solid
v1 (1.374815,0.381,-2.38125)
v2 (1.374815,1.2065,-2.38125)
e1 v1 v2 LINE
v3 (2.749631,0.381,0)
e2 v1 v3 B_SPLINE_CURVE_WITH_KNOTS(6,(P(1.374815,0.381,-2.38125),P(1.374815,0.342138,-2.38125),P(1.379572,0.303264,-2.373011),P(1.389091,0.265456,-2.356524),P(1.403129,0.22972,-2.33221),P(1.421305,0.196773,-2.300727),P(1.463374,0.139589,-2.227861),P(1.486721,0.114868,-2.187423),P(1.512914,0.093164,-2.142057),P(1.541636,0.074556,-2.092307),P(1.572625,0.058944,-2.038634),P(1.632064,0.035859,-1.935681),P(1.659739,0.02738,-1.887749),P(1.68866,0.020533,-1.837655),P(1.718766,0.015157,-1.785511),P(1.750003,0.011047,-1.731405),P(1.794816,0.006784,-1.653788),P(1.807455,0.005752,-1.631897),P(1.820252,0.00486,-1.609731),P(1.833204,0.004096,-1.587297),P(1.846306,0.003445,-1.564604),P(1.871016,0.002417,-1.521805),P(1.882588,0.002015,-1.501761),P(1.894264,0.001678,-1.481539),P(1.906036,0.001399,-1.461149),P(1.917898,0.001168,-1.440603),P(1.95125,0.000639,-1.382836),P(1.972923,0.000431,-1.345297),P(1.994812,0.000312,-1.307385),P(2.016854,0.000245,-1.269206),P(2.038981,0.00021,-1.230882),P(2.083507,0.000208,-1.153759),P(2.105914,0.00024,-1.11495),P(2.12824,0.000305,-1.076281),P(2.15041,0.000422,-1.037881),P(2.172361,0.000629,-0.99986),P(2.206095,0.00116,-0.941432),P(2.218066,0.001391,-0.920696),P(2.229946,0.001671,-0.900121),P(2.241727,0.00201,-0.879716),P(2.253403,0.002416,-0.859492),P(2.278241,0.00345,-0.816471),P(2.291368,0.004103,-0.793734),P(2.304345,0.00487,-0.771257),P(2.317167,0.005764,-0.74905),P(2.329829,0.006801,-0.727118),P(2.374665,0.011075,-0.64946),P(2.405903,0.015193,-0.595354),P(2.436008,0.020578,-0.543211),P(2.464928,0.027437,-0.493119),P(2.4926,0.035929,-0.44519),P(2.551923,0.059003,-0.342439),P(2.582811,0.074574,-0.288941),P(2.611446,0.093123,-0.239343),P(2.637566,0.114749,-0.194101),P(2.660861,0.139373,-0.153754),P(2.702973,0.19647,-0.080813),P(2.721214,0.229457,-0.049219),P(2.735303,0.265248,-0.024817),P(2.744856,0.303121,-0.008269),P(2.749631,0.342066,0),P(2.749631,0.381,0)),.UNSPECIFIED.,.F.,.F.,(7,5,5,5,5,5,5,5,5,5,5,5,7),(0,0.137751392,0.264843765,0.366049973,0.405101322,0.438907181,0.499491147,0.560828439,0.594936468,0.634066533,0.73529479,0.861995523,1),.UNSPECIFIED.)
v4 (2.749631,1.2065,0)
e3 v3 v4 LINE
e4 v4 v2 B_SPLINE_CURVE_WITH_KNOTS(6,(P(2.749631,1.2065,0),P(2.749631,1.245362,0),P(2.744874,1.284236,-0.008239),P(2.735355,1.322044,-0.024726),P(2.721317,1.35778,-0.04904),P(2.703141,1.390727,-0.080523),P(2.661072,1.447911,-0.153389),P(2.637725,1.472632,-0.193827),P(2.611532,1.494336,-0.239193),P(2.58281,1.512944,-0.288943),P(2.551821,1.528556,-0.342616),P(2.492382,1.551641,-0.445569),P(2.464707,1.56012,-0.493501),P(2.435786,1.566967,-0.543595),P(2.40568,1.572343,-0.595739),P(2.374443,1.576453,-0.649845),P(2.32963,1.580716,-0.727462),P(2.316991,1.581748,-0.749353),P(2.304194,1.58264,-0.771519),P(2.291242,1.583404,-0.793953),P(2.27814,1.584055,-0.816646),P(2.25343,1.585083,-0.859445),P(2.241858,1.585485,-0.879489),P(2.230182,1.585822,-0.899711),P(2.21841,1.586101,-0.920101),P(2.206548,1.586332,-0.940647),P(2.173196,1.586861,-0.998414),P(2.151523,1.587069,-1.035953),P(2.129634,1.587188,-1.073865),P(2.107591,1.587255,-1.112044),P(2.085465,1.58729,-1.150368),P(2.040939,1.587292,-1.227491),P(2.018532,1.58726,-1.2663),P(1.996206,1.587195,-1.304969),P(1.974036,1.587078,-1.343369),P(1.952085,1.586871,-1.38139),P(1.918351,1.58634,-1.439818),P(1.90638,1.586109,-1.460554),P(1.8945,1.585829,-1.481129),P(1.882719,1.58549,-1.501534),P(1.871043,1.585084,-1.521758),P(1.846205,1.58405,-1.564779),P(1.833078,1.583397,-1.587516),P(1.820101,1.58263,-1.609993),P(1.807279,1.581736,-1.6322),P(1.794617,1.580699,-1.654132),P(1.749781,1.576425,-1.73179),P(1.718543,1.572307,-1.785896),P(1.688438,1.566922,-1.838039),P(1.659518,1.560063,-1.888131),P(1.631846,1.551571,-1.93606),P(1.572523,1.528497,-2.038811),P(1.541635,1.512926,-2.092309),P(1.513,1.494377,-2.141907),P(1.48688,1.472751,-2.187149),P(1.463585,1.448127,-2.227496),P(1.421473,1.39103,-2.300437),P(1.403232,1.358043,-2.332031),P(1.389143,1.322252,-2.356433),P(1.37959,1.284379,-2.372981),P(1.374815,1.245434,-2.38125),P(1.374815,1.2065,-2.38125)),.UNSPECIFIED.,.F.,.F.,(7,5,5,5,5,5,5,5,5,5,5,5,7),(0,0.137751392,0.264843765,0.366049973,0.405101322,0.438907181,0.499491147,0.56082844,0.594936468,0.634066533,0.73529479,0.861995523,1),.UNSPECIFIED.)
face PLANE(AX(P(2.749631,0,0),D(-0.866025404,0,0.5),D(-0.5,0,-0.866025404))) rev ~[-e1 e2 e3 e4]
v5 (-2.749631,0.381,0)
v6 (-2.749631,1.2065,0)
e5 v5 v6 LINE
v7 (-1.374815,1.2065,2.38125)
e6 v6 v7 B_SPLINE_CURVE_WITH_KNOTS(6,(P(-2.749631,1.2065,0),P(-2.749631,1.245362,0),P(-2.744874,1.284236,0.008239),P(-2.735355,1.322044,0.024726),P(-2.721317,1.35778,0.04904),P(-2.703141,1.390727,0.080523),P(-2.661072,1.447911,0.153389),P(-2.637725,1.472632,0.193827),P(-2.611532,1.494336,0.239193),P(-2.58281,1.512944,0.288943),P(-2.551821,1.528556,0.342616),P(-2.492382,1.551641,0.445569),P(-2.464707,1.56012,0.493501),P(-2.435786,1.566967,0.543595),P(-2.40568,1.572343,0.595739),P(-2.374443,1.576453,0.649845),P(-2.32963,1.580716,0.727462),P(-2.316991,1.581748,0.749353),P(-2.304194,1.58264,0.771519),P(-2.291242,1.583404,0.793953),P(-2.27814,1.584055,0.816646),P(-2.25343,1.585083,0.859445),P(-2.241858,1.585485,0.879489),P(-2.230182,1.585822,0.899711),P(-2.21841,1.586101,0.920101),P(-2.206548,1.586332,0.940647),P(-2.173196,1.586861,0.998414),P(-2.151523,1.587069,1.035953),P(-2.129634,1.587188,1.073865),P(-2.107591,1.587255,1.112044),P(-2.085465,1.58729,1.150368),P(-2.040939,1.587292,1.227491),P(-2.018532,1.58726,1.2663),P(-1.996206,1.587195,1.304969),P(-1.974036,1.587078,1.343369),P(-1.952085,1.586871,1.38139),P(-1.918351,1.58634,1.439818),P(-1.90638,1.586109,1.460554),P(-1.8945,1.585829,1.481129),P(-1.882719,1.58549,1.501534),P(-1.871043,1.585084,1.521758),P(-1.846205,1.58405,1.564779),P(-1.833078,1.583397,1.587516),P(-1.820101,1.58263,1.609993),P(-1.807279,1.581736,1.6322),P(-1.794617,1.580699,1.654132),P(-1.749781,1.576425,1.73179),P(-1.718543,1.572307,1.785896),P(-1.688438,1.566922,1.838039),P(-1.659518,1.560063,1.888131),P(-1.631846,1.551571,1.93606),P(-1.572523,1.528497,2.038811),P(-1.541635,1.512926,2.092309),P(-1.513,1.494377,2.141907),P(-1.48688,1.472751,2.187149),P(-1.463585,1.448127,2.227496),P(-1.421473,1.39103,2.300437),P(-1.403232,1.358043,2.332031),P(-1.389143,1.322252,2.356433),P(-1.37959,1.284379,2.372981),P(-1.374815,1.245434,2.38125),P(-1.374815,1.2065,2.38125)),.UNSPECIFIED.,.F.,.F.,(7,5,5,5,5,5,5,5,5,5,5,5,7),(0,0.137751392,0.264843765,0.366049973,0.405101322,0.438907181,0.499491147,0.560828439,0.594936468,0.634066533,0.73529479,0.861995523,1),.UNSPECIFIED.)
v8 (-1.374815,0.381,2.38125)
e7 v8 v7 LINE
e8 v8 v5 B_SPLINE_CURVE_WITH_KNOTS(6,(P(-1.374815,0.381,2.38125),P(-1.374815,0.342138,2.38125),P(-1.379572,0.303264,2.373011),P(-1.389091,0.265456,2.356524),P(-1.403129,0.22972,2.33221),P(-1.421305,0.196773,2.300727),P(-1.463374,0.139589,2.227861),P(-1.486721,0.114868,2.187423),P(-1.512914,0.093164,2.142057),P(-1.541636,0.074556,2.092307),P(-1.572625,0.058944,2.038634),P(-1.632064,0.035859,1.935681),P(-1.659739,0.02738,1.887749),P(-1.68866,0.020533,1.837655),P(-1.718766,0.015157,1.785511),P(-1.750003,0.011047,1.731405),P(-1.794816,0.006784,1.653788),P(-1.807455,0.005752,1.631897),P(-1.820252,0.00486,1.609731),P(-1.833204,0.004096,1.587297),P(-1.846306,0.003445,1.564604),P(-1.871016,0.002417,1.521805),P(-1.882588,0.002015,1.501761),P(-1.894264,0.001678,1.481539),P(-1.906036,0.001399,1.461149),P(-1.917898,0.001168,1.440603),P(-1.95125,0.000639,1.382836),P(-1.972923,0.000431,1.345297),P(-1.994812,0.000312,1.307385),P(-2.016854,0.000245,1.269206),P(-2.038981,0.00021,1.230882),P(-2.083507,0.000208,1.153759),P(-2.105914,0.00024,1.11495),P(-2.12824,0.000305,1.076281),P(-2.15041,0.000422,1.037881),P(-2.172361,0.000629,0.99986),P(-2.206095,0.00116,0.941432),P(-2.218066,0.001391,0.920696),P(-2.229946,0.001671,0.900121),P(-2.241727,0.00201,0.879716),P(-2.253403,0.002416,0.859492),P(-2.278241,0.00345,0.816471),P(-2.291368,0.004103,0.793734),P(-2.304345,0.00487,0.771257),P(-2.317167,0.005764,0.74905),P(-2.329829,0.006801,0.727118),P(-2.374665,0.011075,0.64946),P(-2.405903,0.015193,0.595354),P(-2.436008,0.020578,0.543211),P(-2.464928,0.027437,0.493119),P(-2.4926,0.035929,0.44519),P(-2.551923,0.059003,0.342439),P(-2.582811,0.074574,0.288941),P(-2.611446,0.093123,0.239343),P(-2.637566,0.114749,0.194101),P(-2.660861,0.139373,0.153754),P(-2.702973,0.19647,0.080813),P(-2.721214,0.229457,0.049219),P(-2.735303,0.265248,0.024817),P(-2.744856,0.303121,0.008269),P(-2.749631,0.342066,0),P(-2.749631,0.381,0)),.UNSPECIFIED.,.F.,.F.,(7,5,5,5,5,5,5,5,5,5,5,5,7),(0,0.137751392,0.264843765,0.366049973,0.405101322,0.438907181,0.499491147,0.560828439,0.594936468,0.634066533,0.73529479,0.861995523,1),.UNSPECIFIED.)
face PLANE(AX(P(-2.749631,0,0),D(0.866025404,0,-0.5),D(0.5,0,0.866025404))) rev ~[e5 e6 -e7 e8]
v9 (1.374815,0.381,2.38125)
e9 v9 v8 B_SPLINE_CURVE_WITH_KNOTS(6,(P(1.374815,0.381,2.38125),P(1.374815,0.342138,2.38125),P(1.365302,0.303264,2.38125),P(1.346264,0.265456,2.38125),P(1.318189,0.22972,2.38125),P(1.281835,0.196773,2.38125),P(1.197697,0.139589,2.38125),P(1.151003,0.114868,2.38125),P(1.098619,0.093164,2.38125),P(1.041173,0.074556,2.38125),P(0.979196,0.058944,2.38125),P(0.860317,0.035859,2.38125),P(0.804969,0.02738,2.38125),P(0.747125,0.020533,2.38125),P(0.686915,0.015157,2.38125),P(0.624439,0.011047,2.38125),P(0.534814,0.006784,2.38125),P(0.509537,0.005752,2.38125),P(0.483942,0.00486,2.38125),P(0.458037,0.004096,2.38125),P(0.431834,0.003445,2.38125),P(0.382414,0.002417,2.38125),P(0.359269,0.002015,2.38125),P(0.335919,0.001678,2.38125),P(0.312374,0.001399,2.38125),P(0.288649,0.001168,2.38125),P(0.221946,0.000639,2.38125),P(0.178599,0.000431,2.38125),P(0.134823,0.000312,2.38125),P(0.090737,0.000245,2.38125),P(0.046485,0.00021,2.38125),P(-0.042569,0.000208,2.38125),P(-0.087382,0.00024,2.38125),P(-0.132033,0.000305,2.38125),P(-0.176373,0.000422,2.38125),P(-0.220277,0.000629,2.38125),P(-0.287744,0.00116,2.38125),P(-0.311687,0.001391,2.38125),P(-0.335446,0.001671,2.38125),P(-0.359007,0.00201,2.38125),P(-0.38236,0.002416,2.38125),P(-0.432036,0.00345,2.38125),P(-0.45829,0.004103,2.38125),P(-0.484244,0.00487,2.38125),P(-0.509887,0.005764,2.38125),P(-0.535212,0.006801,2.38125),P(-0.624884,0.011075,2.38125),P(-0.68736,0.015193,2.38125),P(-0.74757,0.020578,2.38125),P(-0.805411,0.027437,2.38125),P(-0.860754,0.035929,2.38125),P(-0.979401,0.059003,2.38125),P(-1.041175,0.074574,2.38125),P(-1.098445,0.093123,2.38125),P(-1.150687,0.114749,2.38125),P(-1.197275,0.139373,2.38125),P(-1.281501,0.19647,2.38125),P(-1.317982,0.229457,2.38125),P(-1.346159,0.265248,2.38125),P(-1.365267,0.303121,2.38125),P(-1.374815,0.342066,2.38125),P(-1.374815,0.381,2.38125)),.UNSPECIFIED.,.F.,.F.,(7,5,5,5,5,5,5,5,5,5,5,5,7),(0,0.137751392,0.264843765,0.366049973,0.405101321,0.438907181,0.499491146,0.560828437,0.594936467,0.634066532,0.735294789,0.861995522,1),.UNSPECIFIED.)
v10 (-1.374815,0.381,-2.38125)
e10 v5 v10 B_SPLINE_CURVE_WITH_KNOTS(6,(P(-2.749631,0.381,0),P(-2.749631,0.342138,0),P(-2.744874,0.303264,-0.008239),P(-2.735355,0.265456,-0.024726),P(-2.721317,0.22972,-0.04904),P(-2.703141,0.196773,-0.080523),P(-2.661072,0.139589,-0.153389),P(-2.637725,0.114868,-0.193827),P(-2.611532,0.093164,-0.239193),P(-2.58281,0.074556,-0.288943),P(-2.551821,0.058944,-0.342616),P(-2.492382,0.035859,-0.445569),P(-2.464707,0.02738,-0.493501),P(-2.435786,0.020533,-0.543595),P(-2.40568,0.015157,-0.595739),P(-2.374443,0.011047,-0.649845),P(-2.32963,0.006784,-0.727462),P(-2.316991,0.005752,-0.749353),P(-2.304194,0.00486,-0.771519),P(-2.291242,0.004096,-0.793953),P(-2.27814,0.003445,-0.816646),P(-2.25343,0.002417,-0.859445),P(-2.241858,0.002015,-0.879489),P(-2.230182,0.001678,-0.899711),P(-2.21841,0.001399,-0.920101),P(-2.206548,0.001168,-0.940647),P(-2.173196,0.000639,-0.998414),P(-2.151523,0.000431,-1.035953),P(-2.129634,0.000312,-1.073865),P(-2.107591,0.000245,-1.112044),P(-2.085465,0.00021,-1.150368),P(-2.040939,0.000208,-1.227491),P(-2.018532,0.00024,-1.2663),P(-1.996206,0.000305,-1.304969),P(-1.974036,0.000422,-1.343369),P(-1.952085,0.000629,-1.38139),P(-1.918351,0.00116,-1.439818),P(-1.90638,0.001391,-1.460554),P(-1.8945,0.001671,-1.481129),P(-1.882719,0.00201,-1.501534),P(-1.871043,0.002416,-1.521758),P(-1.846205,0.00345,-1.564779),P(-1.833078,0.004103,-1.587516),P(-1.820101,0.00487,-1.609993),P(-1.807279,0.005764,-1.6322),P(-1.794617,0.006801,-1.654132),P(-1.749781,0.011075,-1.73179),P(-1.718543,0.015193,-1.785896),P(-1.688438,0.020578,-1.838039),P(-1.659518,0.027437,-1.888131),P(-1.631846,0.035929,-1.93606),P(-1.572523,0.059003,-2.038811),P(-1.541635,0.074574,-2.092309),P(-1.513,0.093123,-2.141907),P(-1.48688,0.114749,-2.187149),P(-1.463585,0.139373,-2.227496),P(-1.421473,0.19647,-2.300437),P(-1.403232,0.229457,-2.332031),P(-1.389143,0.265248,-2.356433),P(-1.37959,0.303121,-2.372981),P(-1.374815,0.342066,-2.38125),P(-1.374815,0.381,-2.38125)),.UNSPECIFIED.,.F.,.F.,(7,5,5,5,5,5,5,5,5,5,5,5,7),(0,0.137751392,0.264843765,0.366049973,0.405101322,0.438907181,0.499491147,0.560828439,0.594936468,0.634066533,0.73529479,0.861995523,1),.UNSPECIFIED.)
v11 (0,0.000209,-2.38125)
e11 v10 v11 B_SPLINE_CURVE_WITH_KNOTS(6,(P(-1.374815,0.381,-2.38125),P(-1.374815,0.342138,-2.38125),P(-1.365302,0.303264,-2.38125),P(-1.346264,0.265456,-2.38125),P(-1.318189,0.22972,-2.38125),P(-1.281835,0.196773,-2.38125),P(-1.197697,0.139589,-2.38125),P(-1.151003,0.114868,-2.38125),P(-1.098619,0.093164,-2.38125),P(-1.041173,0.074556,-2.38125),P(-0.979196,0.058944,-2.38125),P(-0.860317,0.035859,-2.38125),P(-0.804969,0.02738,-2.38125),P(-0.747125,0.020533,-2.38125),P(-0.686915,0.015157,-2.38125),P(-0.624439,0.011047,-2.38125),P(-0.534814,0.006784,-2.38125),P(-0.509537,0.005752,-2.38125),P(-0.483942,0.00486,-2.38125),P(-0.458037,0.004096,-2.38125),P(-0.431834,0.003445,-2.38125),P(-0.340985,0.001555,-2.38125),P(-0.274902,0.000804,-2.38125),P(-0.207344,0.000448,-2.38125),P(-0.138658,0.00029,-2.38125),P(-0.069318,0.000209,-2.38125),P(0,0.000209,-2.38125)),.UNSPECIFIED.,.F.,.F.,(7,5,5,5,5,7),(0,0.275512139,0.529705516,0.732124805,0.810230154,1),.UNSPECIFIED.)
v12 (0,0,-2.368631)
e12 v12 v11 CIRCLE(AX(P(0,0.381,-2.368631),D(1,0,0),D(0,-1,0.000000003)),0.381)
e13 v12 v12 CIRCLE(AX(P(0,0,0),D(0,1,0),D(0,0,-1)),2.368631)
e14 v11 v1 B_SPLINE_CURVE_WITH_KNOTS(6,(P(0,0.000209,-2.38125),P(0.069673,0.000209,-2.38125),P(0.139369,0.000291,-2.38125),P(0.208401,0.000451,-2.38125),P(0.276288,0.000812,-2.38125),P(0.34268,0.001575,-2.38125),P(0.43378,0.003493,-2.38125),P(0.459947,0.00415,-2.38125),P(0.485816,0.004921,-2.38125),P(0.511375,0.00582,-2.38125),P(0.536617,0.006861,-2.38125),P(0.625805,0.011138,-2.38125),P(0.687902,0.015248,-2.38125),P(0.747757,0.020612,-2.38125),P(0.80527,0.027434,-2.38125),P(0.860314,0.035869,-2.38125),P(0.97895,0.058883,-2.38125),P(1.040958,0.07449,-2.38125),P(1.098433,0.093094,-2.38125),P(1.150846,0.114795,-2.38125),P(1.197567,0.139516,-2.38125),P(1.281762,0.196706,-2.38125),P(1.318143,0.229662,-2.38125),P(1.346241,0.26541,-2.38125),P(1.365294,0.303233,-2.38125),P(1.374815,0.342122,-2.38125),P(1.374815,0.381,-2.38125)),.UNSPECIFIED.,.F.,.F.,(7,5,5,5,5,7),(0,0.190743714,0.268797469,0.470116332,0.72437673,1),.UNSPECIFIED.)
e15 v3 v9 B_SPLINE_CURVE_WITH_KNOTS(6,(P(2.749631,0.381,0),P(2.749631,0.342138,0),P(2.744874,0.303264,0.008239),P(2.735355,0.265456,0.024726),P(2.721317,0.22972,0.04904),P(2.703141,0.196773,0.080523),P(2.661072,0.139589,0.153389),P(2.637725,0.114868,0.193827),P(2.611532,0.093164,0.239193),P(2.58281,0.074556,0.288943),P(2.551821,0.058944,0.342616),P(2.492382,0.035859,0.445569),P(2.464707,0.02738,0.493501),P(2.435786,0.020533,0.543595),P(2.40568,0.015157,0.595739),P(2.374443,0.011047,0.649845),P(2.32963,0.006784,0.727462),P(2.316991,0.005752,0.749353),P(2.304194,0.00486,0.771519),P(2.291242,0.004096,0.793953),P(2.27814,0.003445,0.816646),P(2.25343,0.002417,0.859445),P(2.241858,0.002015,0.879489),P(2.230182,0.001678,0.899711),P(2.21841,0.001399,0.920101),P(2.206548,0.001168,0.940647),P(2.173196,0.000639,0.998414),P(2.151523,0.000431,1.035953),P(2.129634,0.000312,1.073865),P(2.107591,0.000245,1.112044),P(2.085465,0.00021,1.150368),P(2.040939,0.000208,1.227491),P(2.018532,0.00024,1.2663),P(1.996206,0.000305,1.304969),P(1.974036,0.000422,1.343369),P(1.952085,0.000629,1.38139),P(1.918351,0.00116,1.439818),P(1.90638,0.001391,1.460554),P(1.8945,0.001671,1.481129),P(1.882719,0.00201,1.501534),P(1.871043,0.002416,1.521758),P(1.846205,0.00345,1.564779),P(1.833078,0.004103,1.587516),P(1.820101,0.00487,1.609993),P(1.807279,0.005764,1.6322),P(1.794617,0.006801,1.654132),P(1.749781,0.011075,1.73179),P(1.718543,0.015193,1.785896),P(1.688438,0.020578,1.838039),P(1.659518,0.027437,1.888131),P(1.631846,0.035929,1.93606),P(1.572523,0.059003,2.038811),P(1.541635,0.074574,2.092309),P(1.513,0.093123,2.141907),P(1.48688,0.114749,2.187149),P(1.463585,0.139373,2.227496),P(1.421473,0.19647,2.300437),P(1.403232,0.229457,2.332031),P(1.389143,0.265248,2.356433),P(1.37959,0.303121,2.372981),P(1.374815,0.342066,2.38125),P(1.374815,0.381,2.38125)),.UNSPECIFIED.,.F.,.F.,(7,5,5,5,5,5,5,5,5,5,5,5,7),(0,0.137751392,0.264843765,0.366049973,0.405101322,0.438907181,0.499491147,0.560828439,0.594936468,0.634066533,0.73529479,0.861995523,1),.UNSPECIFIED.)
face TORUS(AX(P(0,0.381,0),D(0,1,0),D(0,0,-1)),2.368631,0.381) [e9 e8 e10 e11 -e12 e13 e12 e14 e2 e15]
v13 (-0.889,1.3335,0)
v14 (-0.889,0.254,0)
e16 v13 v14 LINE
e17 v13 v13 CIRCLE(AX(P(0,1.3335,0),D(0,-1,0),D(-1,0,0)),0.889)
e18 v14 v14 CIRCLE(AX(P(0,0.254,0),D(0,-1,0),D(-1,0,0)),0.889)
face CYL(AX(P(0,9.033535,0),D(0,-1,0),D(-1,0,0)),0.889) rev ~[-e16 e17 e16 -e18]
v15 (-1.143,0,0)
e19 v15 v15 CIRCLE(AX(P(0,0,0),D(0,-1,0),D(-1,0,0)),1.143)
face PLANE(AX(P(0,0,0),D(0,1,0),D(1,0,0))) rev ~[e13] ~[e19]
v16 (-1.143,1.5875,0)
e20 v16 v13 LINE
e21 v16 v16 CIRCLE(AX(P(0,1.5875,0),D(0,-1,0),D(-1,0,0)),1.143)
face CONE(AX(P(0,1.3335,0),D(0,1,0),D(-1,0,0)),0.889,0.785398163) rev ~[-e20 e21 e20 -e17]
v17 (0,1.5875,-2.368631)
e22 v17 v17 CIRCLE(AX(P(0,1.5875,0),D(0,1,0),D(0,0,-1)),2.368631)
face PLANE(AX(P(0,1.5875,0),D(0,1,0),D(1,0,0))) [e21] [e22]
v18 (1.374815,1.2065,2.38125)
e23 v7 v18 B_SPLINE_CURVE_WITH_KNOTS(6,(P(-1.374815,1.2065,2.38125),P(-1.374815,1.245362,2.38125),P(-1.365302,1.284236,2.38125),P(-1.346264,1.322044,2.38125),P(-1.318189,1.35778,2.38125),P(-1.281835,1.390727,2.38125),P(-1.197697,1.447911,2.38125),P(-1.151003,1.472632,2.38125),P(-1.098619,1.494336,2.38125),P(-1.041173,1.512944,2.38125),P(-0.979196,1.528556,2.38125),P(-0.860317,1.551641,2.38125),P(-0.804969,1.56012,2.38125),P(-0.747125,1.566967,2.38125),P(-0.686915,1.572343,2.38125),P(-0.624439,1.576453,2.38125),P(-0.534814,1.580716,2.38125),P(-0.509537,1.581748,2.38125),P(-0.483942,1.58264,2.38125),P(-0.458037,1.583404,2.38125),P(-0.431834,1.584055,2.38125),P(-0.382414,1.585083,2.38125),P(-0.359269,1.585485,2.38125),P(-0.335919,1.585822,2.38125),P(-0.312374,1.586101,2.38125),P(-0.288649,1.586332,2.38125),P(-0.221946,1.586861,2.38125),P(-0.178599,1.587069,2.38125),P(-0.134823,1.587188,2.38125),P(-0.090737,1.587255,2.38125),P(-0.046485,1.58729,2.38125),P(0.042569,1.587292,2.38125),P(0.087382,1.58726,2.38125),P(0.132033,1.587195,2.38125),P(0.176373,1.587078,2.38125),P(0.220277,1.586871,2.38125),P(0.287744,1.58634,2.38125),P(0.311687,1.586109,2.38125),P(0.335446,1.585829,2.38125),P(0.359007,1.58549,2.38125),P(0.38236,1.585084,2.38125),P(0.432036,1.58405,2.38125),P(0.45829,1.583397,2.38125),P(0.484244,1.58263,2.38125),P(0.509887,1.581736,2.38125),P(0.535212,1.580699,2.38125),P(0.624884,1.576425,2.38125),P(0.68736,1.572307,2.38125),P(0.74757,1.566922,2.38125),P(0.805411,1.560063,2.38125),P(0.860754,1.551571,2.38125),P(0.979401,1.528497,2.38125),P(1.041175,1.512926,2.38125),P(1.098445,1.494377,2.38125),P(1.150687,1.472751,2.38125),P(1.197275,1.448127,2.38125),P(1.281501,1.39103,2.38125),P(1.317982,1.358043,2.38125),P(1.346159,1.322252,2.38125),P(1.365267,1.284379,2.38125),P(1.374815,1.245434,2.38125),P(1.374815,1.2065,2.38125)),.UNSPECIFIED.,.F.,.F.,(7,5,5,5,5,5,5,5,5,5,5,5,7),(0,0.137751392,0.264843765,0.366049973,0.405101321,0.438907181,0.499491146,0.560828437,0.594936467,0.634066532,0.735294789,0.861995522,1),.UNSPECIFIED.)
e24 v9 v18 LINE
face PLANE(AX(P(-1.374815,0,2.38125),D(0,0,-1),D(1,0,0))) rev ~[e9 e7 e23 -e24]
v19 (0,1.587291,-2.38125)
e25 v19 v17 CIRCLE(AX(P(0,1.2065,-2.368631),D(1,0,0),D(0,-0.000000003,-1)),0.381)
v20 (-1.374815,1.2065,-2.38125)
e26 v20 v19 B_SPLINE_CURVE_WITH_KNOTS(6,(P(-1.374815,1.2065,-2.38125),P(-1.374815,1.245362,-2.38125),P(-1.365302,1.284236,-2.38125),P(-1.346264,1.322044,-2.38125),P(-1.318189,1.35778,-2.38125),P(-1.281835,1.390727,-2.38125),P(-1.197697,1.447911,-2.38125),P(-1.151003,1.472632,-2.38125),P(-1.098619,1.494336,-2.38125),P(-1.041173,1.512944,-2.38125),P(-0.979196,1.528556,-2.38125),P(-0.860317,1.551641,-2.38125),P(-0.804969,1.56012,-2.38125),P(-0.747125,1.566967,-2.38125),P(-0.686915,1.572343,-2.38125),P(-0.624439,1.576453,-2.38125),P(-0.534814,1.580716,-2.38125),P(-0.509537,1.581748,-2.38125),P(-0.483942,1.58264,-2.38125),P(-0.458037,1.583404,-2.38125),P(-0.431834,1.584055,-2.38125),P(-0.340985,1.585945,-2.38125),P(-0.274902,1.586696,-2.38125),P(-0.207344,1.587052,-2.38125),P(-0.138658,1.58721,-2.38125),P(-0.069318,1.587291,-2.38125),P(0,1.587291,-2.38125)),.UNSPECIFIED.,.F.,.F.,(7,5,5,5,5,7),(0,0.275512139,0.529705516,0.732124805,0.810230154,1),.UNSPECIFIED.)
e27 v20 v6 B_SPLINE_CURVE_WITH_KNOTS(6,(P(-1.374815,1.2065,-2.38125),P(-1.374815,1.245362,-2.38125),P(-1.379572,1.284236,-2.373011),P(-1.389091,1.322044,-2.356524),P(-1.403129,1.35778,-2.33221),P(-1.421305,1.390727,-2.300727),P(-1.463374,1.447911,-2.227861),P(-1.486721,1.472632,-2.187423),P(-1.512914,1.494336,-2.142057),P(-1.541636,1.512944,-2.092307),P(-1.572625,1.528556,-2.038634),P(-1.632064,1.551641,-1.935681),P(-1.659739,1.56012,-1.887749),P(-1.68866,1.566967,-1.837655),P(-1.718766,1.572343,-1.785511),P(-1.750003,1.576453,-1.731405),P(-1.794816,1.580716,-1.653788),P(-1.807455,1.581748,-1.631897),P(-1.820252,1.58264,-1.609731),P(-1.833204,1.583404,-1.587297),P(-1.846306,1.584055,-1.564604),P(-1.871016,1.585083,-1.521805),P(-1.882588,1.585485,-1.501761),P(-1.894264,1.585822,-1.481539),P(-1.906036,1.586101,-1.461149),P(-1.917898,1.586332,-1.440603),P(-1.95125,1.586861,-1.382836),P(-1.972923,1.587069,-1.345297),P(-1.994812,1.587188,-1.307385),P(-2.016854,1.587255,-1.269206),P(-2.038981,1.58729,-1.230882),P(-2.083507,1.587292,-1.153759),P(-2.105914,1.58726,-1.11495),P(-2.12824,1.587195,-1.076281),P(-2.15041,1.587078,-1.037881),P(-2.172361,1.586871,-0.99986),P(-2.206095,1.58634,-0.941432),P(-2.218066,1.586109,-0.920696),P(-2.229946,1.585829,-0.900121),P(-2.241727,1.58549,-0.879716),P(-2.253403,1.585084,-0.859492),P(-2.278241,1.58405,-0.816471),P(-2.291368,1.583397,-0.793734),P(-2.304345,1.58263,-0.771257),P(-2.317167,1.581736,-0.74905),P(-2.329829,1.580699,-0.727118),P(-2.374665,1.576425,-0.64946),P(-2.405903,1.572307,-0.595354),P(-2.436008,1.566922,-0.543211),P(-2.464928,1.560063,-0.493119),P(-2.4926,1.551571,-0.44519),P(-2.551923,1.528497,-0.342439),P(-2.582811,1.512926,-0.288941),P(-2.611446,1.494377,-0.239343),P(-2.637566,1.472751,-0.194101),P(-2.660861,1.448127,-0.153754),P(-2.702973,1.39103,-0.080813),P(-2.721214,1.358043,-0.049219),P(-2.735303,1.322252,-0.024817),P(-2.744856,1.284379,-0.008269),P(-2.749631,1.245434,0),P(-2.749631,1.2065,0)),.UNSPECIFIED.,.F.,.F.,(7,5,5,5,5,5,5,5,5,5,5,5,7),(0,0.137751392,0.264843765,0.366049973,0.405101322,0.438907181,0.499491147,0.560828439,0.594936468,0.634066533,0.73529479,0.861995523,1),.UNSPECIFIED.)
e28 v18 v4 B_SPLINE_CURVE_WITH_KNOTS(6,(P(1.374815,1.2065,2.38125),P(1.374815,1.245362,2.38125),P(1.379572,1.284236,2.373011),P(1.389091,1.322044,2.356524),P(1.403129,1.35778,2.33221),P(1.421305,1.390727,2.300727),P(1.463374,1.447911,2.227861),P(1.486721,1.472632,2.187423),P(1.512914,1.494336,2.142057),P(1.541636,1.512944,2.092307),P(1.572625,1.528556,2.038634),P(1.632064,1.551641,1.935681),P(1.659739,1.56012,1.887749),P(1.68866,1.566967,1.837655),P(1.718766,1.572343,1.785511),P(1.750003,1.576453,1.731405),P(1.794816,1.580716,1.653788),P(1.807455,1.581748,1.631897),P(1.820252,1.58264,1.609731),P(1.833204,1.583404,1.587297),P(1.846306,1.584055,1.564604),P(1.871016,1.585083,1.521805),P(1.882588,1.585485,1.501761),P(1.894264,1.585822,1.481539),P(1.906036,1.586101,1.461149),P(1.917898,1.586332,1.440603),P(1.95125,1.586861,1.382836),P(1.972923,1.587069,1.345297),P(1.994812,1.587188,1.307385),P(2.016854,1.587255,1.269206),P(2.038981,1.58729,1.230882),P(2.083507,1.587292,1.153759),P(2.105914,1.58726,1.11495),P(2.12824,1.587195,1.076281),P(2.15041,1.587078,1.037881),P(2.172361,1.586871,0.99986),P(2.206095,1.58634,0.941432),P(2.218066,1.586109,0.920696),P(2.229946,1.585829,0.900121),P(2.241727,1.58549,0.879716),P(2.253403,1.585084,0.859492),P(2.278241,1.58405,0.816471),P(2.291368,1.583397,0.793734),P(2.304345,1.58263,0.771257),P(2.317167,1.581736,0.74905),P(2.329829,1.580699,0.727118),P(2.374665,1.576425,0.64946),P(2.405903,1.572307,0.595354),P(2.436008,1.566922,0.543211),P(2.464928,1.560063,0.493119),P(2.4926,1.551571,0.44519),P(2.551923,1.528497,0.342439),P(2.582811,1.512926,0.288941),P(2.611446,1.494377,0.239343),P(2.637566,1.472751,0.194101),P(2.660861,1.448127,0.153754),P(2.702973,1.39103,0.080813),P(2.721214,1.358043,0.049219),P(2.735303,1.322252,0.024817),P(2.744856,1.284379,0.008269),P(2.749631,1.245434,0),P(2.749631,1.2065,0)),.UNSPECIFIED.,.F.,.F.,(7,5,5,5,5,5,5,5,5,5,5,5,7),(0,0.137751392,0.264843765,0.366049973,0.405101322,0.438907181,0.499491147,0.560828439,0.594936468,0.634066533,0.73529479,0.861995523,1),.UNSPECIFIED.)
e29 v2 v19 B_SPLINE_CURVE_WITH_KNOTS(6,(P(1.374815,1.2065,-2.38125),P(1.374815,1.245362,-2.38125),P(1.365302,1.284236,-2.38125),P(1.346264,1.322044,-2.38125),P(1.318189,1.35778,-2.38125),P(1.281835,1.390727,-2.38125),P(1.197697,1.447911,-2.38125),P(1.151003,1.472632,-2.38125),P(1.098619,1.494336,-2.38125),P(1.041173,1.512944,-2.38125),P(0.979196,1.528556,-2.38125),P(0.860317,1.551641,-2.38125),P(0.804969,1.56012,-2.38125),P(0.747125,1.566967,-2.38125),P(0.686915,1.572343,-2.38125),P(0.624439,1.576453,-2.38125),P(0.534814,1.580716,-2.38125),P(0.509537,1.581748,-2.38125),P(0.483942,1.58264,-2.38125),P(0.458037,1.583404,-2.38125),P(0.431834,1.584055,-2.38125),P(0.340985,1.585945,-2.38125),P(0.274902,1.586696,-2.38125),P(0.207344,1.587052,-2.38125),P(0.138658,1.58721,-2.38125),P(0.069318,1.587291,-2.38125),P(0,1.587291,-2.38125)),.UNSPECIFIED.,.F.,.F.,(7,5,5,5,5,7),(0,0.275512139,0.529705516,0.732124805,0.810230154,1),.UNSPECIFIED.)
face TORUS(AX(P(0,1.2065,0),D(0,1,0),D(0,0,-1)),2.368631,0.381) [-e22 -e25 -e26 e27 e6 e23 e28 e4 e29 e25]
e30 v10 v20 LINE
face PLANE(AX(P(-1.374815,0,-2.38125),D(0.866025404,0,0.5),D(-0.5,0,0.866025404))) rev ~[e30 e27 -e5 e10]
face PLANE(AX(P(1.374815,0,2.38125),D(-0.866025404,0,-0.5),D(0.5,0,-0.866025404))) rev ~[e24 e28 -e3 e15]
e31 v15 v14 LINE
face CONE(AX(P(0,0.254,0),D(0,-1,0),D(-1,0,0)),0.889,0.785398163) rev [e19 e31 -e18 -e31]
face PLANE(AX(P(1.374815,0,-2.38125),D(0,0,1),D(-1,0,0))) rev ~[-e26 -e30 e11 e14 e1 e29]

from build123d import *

# Parameters (mm, degrees)
BOSS_EXTRUDE1_DEPTH   = 1.5875
F_2_56_TAPPED_HOLE1_D = 1.778
CHAMFER2_SIZE         = 0.254


with BuildPart() as part:
    # Sketch1 → Boss-Extrude1 (new body)
    with BuildSketch(Plane(origin=(0, 0, 0), x_dir=(1, 0, 0), z_dir=(0, 1, 0))):
        Polygon((1.374815329, 2.38125), (-1.374815329, 2.38125), (-2.749630657, 0), (-1.374815329, -2.38125), (1.374815329, -2.38125), (2.749630657, 0), align=None)
    extrude(amount=BOSS_EXTRUDE1_DEPTH)

    # #2-56 Tapped Hole1 (through all)
    with Locations(Plane(origin=(0, 1.5875, 0), x_dir=(1, 0, 0), z_dir=(0, 1, 0))):
        with Locations((0, 0)):
            Hole(F_2_56_TAPPED_HOLE1_D / 2)

    # Sketch5 → Cut-Revolve2 (revolve, cut)
    with BuildSketch(Plane.XY, mode=Mode.PRIVATE) as cut_revolve2_sk:
        with BuildLine():
            Line((0, 0), (2.368630657, 0))
            ThreePointArc((2.368630657, 0), (2.638038341, 0.111592316), (2.749630657, 0.381))
            Line((2.749630657, 0.381), (2.749630657, 1.2065))
            ThreePointArc((2.749630657, 1.2065), (2.638038341, 1.475907684), (2.368630657, 1.5875))
            Line((2.368630657, 1.5875), (0, 1.5875))
            Line((0, 1.5875), (0, 2.0955))
            Line((0, 2.0955), (5.08, 2.0955))
            Line((5.08, 2.0955), (5.08, -0.4445))
            Line((5.08, -0.4445), (0, -0.4445))
            Line((0, -0.4445), (0, 0))
        make_face()
    revolve(cut_revolve2_sk.sketch.rotate(Axis((0, 0, 0), (0, 1, 0)), 90), axis=Axis((0, 0, 0), (0, 1, 0)), mode=Mode.SUBTRACT)

    # Chamfer2
    chamfer2_edges = [part.edges().sort_by_distance(p)[0] for p in [
        (0.889, 1.5875, 0),
        (0.889, 0, 0),
    ]]
    chamfer(chamfer2_edges, length=CHAMFER2_SIZE)


solid = part.part
